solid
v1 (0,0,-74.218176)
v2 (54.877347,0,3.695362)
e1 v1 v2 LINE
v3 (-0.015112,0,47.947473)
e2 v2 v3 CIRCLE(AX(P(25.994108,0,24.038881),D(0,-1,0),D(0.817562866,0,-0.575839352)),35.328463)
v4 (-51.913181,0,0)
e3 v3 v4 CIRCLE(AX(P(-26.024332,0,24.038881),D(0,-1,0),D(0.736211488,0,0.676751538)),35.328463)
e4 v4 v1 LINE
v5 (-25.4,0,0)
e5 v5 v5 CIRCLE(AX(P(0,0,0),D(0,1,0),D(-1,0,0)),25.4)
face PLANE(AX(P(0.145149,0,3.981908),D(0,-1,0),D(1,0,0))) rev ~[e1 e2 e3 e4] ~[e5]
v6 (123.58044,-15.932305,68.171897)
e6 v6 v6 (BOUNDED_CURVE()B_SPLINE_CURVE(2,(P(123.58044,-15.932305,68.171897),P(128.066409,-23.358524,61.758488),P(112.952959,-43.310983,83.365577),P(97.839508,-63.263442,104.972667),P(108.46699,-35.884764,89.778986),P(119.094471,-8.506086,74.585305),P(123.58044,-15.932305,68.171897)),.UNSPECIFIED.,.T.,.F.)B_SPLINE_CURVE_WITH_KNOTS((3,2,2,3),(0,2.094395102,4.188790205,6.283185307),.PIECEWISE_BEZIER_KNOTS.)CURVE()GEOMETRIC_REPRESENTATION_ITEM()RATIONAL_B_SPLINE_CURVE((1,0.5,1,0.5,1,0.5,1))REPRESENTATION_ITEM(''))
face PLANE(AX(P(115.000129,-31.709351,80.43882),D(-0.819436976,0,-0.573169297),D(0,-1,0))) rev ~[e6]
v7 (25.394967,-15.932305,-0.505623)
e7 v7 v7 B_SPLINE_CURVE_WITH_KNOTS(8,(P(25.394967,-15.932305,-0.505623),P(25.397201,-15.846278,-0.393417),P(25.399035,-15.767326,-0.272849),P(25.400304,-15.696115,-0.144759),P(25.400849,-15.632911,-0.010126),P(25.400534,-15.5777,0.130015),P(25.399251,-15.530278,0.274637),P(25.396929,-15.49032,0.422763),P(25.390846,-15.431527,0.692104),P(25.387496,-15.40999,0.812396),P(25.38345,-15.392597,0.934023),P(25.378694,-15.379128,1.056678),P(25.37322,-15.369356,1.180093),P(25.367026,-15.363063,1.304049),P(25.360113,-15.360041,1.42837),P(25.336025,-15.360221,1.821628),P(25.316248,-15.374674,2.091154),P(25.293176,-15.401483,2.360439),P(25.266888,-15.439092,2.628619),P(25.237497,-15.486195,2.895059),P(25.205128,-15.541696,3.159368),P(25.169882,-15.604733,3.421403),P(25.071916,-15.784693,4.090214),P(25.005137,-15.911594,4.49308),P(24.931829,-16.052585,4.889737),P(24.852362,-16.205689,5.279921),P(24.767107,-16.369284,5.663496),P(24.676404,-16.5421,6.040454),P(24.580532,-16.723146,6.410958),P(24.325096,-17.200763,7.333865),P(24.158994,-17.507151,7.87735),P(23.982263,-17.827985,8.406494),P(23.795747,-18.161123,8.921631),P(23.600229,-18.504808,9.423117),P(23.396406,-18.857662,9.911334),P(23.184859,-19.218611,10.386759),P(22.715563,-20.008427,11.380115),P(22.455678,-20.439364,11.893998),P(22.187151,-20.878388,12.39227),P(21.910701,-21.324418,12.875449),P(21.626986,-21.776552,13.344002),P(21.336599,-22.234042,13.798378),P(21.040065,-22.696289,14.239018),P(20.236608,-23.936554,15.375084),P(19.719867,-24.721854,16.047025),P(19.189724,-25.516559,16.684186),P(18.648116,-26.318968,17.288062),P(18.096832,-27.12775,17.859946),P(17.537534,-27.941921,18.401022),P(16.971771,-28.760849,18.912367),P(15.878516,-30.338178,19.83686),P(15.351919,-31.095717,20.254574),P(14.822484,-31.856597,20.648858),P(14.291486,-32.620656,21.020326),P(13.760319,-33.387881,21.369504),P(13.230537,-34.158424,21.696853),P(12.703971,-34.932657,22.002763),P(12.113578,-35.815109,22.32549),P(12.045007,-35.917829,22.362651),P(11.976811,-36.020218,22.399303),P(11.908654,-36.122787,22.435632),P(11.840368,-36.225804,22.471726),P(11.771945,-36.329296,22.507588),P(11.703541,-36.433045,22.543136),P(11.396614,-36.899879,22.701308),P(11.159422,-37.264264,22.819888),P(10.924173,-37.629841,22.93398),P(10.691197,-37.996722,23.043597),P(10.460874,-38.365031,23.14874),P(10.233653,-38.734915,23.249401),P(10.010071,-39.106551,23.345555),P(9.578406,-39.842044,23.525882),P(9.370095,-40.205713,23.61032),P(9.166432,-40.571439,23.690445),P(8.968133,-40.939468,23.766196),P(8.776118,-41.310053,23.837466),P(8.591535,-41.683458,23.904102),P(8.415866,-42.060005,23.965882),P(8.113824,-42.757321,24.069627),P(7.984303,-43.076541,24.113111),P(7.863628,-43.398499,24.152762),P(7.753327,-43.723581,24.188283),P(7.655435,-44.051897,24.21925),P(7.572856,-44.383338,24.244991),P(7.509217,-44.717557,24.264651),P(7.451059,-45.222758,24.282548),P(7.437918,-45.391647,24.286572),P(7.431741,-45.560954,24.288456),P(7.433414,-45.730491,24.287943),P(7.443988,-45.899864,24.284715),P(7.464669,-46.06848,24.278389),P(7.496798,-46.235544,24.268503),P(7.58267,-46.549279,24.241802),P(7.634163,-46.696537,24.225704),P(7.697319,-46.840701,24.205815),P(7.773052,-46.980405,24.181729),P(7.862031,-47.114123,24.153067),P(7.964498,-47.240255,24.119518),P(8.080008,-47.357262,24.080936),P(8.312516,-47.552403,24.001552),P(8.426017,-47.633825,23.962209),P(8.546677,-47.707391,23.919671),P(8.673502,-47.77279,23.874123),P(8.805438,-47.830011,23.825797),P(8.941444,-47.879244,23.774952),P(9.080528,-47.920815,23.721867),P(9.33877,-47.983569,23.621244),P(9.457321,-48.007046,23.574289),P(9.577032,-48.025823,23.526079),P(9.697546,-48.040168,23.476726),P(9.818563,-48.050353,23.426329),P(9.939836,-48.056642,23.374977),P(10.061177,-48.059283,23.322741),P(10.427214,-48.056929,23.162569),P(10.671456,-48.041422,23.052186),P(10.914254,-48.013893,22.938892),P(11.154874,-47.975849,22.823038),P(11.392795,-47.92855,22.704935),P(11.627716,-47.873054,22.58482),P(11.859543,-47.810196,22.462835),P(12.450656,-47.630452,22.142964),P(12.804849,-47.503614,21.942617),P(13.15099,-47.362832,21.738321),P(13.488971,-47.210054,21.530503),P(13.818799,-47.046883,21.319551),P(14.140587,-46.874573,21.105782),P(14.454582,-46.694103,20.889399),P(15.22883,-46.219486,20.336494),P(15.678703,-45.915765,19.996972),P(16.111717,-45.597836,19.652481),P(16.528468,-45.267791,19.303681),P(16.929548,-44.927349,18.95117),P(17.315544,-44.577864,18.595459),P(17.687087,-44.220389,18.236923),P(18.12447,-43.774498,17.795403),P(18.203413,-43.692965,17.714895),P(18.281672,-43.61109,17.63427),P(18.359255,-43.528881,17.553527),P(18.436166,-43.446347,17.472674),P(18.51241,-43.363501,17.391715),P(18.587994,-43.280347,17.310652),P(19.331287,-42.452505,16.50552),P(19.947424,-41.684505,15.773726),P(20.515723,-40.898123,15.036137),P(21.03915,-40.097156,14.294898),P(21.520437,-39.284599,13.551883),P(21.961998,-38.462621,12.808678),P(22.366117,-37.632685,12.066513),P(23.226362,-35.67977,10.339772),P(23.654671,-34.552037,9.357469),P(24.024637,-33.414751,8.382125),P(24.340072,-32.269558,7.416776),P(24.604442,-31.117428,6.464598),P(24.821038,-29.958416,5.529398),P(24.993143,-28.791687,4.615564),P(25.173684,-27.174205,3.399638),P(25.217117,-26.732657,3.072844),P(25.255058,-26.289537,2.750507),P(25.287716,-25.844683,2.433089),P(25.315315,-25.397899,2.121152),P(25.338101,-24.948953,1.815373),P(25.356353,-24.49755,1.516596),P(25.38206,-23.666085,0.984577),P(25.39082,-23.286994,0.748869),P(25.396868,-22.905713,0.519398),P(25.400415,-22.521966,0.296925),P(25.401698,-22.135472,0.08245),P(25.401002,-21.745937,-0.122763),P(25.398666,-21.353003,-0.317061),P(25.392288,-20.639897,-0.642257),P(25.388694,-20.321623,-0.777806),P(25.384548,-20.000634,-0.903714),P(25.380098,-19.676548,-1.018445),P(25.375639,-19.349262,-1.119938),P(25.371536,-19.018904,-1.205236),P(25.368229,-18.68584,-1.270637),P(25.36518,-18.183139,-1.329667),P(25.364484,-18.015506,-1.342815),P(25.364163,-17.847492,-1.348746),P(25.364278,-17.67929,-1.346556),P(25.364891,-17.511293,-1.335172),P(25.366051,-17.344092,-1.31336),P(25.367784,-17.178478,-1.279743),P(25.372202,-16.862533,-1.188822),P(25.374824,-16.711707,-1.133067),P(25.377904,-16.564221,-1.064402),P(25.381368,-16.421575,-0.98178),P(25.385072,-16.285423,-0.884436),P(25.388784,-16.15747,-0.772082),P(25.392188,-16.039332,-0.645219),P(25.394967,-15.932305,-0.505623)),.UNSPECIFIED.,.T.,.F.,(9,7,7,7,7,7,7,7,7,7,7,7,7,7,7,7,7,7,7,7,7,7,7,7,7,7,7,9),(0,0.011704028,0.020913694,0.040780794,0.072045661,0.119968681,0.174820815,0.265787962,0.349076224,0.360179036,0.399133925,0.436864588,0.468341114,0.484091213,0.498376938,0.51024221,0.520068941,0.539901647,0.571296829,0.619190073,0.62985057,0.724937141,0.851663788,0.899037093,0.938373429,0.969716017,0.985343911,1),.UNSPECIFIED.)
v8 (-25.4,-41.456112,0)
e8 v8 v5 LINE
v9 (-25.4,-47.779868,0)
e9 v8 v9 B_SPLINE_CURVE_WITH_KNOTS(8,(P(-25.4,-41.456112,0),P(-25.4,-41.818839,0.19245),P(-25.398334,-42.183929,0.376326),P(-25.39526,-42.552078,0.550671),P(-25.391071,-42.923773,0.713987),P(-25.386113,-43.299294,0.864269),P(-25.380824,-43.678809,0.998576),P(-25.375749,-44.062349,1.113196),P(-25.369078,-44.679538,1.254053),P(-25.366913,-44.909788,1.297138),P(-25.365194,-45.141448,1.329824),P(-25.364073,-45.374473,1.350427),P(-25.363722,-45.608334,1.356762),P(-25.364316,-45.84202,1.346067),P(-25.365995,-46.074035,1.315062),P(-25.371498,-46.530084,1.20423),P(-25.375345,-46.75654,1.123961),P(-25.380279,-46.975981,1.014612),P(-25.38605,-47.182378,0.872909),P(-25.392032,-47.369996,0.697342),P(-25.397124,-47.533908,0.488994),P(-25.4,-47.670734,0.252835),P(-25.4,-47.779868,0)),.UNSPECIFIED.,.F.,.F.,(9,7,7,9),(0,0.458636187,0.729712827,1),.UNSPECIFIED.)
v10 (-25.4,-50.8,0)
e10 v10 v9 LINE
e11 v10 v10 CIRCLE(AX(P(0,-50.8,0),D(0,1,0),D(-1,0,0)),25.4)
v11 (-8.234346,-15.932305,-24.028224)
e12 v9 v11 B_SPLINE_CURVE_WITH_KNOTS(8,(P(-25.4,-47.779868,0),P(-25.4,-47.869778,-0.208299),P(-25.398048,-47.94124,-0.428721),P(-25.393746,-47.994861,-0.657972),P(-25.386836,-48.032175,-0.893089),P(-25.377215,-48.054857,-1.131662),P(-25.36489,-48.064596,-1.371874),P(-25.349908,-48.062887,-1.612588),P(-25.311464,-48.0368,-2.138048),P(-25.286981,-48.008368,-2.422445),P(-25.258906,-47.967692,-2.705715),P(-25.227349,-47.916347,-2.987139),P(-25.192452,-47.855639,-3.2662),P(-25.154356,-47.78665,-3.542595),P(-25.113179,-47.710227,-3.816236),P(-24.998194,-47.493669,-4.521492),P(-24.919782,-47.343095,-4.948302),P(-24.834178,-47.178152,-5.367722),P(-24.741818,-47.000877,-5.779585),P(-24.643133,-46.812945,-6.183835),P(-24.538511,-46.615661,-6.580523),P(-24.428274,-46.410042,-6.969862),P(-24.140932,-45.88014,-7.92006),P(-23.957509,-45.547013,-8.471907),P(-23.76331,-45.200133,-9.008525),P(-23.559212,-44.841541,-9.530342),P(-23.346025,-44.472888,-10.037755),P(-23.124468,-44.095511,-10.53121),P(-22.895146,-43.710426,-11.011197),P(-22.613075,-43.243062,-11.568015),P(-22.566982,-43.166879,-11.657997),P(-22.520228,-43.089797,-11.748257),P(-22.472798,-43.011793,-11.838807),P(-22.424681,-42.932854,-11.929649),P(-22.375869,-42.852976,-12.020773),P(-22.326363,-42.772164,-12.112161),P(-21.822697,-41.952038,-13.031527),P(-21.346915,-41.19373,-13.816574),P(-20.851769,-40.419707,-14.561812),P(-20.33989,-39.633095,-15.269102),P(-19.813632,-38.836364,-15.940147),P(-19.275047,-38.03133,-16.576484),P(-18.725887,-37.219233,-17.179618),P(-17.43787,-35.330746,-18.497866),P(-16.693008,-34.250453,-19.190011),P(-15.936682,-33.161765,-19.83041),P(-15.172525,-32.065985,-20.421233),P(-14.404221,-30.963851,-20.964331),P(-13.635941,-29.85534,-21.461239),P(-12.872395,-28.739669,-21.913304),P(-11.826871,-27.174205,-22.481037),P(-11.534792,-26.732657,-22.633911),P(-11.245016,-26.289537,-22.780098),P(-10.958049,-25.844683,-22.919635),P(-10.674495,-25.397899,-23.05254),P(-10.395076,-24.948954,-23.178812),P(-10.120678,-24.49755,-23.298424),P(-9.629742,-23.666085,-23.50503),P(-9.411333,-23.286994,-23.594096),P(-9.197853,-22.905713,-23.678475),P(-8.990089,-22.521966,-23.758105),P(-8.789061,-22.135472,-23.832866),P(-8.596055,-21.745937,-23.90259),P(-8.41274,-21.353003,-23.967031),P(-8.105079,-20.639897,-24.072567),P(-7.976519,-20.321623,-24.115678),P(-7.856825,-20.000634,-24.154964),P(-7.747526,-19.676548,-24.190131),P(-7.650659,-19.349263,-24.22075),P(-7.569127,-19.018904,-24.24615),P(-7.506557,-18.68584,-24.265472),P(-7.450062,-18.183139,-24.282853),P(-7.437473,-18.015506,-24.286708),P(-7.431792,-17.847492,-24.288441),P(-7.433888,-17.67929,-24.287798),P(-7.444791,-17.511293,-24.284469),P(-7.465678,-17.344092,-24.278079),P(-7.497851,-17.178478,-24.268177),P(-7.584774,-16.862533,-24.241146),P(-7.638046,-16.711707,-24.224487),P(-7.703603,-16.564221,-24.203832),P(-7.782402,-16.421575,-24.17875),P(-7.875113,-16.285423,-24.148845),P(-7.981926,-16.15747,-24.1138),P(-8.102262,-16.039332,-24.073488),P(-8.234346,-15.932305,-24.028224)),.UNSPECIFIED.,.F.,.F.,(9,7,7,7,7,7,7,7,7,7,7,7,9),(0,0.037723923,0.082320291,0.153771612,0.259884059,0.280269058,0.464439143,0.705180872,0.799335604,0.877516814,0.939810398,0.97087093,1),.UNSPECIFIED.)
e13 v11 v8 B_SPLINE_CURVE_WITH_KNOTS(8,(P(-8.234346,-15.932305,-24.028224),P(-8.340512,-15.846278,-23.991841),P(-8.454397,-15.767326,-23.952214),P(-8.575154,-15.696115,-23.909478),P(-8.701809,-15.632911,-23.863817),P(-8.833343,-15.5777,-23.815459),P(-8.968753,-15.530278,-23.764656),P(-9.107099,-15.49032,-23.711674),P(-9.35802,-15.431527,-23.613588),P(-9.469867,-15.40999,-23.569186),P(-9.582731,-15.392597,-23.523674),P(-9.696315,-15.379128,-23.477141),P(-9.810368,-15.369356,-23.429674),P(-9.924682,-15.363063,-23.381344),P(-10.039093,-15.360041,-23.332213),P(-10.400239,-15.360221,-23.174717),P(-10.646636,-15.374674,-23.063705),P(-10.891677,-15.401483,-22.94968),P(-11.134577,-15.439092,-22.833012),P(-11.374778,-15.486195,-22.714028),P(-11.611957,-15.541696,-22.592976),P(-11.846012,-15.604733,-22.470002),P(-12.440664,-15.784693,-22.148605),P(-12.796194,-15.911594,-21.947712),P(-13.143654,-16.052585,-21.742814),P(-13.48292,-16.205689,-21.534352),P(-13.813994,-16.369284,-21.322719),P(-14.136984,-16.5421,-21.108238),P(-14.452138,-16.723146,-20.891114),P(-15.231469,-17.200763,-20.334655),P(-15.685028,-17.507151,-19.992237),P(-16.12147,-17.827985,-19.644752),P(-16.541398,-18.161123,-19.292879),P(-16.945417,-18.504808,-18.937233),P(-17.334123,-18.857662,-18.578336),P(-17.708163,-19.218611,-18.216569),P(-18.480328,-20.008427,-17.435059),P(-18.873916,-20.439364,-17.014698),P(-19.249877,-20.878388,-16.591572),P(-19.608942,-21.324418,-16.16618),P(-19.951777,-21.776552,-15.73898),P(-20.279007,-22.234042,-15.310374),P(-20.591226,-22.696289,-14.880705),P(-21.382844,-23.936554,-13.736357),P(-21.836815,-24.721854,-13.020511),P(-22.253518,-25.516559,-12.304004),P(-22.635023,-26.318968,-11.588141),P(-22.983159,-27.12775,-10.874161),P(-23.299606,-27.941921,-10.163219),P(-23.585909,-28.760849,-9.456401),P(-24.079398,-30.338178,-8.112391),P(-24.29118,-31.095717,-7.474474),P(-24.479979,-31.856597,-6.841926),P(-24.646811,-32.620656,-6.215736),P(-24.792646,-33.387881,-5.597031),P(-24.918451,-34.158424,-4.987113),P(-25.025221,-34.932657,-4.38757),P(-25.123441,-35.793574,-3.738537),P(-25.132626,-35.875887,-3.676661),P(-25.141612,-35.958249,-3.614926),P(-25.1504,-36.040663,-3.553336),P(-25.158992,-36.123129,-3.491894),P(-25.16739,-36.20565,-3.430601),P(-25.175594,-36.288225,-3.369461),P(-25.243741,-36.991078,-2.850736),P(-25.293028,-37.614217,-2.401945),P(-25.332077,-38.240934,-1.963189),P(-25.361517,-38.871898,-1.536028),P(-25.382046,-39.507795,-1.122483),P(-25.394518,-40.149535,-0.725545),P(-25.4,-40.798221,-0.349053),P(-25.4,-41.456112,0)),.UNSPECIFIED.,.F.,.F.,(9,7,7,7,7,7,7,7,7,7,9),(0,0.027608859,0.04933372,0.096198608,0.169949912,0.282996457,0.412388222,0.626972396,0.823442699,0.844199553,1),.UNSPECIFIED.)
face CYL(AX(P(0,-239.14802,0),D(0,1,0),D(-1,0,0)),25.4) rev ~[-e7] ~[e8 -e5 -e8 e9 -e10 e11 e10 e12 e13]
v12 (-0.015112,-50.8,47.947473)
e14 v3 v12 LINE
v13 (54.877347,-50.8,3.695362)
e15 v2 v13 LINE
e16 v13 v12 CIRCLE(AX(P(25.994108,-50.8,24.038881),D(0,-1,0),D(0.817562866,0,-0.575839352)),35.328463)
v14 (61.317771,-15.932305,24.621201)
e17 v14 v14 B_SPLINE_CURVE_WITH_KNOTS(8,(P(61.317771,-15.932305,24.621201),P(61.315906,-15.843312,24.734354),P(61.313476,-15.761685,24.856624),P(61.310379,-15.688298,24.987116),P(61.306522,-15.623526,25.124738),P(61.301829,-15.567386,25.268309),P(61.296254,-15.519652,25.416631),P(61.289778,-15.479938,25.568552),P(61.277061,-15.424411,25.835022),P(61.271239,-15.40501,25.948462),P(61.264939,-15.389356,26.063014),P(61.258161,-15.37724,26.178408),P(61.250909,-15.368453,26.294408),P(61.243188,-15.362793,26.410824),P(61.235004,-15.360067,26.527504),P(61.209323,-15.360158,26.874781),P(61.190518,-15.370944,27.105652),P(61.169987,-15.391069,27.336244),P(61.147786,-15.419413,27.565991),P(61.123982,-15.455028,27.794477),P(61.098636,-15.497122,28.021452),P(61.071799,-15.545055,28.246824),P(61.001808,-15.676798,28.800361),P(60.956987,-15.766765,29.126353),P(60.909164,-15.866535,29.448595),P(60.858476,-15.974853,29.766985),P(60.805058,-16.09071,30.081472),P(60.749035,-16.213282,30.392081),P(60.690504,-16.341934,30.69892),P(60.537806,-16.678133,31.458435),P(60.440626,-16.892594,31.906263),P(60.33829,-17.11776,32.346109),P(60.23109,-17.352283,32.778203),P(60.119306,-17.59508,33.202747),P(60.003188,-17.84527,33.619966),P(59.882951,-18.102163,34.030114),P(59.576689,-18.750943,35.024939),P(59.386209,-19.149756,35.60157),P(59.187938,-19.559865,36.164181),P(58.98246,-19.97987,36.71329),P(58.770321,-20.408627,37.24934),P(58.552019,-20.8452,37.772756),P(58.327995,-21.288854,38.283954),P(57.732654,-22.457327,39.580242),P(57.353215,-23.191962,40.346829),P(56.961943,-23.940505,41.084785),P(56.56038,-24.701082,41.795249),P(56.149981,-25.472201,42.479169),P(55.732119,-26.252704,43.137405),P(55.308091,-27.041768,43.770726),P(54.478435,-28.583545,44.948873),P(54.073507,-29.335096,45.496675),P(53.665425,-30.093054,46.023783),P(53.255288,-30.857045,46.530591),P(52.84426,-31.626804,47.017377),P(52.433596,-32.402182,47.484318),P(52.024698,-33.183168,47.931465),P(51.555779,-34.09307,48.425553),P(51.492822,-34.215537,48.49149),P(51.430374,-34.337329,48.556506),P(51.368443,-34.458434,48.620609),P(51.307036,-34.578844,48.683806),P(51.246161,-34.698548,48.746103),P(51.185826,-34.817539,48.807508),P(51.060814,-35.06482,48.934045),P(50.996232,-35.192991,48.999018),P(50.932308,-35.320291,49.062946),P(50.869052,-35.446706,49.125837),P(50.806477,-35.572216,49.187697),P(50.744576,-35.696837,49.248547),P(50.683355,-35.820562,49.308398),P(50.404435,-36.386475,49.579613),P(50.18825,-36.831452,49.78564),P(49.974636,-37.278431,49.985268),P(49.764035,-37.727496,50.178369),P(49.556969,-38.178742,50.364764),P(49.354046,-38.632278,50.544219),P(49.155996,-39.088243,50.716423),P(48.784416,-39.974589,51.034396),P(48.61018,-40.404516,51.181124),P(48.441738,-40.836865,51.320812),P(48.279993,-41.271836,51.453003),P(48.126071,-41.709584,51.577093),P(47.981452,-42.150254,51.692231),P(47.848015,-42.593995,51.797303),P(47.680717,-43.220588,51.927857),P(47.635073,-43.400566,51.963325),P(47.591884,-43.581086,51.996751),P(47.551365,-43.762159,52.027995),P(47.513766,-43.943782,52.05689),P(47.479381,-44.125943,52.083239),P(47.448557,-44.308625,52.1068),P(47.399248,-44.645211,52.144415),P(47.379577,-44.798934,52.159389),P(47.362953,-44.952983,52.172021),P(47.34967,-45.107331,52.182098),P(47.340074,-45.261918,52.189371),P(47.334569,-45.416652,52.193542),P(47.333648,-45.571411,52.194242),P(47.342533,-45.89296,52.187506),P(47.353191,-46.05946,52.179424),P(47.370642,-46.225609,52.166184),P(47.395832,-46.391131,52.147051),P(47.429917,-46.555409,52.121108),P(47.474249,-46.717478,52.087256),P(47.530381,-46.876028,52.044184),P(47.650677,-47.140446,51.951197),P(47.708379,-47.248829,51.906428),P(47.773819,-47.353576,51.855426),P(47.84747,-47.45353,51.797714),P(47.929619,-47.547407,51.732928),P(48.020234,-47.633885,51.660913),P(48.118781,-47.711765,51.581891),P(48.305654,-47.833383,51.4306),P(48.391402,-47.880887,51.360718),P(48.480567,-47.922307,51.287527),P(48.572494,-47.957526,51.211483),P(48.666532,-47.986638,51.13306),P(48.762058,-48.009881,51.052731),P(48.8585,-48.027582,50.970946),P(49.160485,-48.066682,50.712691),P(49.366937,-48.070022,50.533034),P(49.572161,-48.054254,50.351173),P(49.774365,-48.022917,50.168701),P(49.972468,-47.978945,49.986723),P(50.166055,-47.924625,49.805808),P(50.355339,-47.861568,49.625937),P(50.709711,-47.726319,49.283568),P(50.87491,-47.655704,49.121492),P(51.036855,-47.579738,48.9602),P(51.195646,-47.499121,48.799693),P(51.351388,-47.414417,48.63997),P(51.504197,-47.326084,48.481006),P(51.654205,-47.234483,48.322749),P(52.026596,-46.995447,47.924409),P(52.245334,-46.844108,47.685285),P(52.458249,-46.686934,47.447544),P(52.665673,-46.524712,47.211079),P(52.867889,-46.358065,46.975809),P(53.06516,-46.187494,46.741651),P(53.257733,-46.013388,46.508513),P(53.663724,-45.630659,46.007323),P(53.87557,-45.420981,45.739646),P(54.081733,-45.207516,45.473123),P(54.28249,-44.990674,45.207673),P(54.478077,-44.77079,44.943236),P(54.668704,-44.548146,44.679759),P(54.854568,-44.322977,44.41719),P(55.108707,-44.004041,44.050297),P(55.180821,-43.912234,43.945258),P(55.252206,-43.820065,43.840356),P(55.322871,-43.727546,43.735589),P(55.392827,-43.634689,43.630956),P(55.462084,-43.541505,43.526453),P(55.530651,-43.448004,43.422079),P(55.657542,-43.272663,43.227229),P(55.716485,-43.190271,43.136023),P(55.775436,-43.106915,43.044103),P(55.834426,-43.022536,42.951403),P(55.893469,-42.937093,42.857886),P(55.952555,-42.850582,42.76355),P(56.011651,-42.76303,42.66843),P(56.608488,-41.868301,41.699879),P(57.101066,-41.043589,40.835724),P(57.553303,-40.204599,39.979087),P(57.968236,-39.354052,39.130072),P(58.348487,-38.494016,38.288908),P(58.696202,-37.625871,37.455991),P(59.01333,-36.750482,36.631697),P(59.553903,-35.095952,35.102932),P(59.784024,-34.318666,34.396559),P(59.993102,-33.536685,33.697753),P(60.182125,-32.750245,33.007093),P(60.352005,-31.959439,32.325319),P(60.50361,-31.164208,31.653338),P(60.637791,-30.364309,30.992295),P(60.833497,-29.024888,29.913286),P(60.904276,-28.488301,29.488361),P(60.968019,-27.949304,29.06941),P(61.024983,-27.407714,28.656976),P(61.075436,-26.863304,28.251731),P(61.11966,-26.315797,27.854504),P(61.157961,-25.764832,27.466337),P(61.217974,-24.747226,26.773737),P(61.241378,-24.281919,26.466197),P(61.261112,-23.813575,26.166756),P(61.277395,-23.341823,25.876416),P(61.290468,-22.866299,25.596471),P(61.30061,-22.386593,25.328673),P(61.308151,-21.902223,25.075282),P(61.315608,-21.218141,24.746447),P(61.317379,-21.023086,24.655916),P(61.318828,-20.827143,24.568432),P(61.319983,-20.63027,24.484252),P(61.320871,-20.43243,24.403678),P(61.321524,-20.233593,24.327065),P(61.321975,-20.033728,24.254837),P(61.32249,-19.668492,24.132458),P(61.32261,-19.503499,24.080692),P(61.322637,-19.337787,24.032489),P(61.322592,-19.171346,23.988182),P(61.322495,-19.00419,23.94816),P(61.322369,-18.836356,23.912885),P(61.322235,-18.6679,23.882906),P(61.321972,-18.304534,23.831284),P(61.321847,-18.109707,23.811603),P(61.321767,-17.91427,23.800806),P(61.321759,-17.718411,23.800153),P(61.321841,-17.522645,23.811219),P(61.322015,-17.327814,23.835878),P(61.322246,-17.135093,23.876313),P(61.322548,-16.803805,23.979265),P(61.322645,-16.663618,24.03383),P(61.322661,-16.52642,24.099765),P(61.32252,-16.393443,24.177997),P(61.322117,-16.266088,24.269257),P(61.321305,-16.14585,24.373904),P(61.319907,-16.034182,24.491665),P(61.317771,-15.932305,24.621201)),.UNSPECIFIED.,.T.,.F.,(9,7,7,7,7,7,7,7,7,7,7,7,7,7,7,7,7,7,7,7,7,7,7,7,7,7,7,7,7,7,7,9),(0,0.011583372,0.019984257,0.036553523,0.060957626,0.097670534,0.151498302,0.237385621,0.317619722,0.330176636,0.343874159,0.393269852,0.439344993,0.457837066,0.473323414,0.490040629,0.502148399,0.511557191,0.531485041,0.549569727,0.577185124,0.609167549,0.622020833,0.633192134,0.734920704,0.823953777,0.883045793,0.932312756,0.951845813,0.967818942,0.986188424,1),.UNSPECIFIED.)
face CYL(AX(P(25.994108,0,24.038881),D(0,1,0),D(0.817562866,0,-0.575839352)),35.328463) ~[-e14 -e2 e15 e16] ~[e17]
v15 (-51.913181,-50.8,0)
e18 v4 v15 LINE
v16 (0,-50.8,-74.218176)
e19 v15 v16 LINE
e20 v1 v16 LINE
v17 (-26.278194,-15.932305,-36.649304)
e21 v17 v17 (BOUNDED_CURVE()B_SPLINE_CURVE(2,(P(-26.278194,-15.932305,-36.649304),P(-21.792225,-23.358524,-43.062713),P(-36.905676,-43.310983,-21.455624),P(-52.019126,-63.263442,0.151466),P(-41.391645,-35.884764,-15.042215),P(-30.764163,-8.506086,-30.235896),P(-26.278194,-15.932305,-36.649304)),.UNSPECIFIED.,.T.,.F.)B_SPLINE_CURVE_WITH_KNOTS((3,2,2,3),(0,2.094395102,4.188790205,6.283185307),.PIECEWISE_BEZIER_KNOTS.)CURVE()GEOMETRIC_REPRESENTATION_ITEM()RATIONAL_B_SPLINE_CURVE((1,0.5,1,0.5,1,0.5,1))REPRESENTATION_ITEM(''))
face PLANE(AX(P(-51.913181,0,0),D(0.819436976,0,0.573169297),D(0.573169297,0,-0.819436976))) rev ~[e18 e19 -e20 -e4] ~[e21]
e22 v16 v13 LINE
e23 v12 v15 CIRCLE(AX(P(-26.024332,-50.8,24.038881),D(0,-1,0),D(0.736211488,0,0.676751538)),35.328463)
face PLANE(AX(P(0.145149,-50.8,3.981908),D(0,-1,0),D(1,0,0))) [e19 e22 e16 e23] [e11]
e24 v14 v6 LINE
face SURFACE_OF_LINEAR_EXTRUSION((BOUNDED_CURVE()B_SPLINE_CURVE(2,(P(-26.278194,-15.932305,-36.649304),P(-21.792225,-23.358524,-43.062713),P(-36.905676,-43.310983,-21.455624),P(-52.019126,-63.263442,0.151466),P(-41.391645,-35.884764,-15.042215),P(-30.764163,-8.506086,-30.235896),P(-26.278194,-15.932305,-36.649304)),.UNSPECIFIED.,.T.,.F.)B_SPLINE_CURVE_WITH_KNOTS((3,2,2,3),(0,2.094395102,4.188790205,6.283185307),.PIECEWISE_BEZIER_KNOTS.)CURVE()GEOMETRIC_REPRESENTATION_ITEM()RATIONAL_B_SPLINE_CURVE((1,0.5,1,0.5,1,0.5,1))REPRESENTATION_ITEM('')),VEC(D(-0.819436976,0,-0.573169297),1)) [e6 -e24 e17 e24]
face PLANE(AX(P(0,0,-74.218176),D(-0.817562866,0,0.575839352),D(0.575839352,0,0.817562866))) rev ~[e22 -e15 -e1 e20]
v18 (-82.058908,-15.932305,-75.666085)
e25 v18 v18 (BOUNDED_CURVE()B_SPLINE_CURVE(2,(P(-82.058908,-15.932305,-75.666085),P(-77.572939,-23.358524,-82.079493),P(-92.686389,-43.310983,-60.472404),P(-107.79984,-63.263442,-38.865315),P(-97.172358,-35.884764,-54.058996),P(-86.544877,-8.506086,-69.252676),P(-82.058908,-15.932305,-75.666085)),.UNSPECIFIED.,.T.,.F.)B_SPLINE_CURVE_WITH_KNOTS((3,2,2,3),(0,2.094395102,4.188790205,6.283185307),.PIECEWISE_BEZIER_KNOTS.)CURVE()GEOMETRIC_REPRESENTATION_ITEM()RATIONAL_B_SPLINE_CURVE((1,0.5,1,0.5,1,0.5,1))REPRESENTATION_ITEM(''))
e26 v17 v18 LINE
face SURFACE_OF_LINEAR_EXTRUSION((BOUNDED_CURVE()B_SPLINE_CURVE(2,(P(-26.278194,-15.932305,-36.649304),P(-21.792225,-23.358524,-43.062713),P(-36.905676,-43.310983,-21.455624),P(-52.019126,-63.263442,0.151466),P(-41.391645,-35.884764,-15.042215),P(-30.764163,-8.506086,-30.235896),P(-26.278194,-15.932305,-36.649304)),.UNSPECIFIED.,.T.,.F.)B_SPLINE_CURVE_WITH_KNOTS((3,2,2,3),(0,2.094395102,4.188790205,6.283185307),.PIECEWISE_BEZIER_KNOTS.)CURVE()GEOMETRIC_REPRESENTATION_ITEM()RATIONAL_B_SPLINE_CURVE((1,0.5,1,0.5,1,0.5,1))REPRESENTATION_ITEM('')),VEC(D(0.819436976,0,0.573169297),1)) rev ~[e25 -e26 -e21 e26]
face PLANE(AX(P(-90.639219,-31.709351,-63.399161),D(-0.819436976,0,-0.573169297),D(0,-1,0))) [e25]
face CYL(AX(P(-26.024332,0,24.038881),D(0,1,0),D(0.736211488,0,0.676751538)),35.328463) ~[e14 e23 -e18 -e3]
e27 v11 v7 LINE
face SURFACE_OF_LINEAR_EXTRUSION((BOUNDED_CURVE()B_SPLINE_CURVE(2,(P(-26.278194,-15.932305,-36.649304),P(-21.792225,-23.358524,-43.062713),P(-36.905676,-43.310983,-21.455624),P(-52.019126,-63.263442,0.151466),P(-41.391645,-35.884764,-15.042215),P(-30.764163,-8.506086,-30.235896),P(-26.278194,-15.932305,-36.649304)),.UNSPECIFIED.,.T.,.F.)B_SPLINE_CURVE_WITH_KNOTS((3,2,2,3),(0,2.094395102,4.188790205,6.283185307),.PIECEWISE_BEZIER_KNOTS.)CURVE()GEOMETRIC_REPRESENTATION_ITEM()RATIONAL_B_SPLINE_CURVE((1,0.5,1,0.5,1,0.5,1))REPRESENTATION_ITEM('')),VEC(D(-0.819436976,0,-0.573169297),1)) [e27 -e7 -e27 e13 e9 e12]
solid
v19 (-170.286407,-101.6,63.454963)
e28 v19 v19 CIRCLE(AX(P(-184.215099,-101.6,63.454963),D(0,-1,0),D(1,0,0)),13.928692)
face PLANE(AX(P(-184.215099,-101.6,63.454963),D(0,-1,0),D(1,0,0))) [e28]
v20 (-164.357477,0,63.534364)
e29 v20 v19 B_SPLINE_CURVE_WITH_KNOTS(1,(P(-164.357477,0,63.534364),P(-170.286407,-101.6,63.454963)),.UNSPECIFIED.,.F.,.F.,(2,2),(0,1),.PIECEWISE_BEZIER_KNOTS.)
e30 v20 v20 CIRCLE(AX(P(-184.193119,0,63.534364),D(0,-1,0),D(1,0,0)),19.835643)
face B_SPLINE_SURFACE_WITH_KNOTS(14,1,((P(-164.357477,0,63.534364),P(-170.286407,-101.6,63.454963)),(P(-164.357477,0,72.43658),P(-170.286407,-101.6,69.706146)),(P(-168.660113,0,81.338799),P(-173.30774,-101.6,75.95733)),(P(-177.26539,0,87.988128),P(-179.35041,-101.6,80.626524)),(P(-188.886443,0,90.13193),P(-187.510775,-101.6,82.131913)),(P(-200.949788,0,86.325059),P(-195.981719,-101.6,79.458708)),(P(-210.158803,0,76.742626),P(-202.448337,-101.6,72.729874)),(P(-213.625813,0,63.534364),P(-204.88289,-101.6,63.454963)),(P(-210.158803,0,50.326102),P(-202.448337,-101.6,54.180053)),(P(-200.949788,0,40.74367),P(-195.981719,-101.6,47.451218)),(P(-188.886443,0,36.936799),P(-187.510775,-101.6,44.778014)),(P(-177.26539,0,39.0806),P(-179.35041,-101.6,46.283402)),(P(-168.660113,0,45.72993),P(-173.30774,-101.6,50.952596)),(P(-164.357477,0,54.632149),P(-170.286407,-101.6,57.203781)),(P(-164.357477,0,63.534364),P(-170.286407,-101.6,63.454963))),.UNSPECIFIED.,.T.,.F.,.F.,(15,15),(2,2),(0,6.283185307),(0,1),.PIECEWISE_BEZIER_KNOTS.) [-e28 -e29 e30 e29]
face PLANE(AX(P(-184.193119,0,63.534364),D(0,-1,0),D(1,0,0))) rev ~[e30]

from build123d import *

# Parameters (mm, degrees)
F1_DEPTH      = 50.8
F3_D          = 50.8
F5_DEPTH      = 182.88
F5_DEPTH_BACK = 68.072
F6_R          = 19.8356426408
F8_R          = 13.9286920451


with BuildPart() as f1:
    # F0 (on Front) → F1 (new body)
    with BuildSketch(Plane.XZ):
        with BuildLine():
            ThreePointArc((54.8773473594, 3.6953619276), (48.1667786574, 51.5429346167), (-0.0151121058, 47.9474726111))
            ThreePointArc((-0.0151121058, 47.9474726111), (-49.9981441233, 49.9879972058), (-51.9131808455, 0))
            Line((-51.9131808455, 0), (0, -74.2181763053))
            Line((0, -74.2181763053), (54.8773473594, 3.6953619276))
        make_face()
    extrude(amount=F1_DEPTH)

    # F3 (through all)
    with Locations(Plane.XZ.offset(50.8)):
        with Locations((0, 0)):
            Hole(F3_D / 2)

    # F4 (on face) → F5 (join, two sides)
    with BuildSketch(Plane(origin=(-34.8585047182, 0, -24.3823811029), x_dir=(0, -1, 0), z_dir=(-0.8194369758, 0, -0.5731692967))) as f5_sk:
        with BuildLine():
            add(Edge.make_bspline(
                [(15.9323047847, -14.9699412286), (23.3585237674, -22.7965449323), (43.3109830673, 3.5716687625), (63.2634423673, 29.9398824573), (35.8847640846, 11.3982724661), (8.5060858019, -7.143337525), (15.9323047847, -14.9699412286)],
                knots=[0, 0, 0, 2.0943951024, 2.0943951024, 4.1887902048, 4.1887902048, 6.2831853072, 6.2831853072, 6.2831853072], degree=2, weights=[1, 0.5, 1, 0.5, 1, 0.5, 1]))
        make_face()
    extrude(amount=-F5_DEPTH)
    extrude(f5_sk.sketch, amount=F5_DEPTH_BACK)


with BuildPart() as f9:
    # F6 (on Front) → F9 section 0
    with BuildSketch(Plane.XZ):
        with Locations((-184.1931194067, 63.5343641043)):
            Circle(F6_R)
    # F8 (on offset) → F9 section 1
    with BuildSketch(Plane.XZ.offset(101.6)):
        with Locations((-184.2150986195, 63.4549632668)):
            Circle(F8_R)
    loft()


solid = Compound([f1.part, f9.part])
